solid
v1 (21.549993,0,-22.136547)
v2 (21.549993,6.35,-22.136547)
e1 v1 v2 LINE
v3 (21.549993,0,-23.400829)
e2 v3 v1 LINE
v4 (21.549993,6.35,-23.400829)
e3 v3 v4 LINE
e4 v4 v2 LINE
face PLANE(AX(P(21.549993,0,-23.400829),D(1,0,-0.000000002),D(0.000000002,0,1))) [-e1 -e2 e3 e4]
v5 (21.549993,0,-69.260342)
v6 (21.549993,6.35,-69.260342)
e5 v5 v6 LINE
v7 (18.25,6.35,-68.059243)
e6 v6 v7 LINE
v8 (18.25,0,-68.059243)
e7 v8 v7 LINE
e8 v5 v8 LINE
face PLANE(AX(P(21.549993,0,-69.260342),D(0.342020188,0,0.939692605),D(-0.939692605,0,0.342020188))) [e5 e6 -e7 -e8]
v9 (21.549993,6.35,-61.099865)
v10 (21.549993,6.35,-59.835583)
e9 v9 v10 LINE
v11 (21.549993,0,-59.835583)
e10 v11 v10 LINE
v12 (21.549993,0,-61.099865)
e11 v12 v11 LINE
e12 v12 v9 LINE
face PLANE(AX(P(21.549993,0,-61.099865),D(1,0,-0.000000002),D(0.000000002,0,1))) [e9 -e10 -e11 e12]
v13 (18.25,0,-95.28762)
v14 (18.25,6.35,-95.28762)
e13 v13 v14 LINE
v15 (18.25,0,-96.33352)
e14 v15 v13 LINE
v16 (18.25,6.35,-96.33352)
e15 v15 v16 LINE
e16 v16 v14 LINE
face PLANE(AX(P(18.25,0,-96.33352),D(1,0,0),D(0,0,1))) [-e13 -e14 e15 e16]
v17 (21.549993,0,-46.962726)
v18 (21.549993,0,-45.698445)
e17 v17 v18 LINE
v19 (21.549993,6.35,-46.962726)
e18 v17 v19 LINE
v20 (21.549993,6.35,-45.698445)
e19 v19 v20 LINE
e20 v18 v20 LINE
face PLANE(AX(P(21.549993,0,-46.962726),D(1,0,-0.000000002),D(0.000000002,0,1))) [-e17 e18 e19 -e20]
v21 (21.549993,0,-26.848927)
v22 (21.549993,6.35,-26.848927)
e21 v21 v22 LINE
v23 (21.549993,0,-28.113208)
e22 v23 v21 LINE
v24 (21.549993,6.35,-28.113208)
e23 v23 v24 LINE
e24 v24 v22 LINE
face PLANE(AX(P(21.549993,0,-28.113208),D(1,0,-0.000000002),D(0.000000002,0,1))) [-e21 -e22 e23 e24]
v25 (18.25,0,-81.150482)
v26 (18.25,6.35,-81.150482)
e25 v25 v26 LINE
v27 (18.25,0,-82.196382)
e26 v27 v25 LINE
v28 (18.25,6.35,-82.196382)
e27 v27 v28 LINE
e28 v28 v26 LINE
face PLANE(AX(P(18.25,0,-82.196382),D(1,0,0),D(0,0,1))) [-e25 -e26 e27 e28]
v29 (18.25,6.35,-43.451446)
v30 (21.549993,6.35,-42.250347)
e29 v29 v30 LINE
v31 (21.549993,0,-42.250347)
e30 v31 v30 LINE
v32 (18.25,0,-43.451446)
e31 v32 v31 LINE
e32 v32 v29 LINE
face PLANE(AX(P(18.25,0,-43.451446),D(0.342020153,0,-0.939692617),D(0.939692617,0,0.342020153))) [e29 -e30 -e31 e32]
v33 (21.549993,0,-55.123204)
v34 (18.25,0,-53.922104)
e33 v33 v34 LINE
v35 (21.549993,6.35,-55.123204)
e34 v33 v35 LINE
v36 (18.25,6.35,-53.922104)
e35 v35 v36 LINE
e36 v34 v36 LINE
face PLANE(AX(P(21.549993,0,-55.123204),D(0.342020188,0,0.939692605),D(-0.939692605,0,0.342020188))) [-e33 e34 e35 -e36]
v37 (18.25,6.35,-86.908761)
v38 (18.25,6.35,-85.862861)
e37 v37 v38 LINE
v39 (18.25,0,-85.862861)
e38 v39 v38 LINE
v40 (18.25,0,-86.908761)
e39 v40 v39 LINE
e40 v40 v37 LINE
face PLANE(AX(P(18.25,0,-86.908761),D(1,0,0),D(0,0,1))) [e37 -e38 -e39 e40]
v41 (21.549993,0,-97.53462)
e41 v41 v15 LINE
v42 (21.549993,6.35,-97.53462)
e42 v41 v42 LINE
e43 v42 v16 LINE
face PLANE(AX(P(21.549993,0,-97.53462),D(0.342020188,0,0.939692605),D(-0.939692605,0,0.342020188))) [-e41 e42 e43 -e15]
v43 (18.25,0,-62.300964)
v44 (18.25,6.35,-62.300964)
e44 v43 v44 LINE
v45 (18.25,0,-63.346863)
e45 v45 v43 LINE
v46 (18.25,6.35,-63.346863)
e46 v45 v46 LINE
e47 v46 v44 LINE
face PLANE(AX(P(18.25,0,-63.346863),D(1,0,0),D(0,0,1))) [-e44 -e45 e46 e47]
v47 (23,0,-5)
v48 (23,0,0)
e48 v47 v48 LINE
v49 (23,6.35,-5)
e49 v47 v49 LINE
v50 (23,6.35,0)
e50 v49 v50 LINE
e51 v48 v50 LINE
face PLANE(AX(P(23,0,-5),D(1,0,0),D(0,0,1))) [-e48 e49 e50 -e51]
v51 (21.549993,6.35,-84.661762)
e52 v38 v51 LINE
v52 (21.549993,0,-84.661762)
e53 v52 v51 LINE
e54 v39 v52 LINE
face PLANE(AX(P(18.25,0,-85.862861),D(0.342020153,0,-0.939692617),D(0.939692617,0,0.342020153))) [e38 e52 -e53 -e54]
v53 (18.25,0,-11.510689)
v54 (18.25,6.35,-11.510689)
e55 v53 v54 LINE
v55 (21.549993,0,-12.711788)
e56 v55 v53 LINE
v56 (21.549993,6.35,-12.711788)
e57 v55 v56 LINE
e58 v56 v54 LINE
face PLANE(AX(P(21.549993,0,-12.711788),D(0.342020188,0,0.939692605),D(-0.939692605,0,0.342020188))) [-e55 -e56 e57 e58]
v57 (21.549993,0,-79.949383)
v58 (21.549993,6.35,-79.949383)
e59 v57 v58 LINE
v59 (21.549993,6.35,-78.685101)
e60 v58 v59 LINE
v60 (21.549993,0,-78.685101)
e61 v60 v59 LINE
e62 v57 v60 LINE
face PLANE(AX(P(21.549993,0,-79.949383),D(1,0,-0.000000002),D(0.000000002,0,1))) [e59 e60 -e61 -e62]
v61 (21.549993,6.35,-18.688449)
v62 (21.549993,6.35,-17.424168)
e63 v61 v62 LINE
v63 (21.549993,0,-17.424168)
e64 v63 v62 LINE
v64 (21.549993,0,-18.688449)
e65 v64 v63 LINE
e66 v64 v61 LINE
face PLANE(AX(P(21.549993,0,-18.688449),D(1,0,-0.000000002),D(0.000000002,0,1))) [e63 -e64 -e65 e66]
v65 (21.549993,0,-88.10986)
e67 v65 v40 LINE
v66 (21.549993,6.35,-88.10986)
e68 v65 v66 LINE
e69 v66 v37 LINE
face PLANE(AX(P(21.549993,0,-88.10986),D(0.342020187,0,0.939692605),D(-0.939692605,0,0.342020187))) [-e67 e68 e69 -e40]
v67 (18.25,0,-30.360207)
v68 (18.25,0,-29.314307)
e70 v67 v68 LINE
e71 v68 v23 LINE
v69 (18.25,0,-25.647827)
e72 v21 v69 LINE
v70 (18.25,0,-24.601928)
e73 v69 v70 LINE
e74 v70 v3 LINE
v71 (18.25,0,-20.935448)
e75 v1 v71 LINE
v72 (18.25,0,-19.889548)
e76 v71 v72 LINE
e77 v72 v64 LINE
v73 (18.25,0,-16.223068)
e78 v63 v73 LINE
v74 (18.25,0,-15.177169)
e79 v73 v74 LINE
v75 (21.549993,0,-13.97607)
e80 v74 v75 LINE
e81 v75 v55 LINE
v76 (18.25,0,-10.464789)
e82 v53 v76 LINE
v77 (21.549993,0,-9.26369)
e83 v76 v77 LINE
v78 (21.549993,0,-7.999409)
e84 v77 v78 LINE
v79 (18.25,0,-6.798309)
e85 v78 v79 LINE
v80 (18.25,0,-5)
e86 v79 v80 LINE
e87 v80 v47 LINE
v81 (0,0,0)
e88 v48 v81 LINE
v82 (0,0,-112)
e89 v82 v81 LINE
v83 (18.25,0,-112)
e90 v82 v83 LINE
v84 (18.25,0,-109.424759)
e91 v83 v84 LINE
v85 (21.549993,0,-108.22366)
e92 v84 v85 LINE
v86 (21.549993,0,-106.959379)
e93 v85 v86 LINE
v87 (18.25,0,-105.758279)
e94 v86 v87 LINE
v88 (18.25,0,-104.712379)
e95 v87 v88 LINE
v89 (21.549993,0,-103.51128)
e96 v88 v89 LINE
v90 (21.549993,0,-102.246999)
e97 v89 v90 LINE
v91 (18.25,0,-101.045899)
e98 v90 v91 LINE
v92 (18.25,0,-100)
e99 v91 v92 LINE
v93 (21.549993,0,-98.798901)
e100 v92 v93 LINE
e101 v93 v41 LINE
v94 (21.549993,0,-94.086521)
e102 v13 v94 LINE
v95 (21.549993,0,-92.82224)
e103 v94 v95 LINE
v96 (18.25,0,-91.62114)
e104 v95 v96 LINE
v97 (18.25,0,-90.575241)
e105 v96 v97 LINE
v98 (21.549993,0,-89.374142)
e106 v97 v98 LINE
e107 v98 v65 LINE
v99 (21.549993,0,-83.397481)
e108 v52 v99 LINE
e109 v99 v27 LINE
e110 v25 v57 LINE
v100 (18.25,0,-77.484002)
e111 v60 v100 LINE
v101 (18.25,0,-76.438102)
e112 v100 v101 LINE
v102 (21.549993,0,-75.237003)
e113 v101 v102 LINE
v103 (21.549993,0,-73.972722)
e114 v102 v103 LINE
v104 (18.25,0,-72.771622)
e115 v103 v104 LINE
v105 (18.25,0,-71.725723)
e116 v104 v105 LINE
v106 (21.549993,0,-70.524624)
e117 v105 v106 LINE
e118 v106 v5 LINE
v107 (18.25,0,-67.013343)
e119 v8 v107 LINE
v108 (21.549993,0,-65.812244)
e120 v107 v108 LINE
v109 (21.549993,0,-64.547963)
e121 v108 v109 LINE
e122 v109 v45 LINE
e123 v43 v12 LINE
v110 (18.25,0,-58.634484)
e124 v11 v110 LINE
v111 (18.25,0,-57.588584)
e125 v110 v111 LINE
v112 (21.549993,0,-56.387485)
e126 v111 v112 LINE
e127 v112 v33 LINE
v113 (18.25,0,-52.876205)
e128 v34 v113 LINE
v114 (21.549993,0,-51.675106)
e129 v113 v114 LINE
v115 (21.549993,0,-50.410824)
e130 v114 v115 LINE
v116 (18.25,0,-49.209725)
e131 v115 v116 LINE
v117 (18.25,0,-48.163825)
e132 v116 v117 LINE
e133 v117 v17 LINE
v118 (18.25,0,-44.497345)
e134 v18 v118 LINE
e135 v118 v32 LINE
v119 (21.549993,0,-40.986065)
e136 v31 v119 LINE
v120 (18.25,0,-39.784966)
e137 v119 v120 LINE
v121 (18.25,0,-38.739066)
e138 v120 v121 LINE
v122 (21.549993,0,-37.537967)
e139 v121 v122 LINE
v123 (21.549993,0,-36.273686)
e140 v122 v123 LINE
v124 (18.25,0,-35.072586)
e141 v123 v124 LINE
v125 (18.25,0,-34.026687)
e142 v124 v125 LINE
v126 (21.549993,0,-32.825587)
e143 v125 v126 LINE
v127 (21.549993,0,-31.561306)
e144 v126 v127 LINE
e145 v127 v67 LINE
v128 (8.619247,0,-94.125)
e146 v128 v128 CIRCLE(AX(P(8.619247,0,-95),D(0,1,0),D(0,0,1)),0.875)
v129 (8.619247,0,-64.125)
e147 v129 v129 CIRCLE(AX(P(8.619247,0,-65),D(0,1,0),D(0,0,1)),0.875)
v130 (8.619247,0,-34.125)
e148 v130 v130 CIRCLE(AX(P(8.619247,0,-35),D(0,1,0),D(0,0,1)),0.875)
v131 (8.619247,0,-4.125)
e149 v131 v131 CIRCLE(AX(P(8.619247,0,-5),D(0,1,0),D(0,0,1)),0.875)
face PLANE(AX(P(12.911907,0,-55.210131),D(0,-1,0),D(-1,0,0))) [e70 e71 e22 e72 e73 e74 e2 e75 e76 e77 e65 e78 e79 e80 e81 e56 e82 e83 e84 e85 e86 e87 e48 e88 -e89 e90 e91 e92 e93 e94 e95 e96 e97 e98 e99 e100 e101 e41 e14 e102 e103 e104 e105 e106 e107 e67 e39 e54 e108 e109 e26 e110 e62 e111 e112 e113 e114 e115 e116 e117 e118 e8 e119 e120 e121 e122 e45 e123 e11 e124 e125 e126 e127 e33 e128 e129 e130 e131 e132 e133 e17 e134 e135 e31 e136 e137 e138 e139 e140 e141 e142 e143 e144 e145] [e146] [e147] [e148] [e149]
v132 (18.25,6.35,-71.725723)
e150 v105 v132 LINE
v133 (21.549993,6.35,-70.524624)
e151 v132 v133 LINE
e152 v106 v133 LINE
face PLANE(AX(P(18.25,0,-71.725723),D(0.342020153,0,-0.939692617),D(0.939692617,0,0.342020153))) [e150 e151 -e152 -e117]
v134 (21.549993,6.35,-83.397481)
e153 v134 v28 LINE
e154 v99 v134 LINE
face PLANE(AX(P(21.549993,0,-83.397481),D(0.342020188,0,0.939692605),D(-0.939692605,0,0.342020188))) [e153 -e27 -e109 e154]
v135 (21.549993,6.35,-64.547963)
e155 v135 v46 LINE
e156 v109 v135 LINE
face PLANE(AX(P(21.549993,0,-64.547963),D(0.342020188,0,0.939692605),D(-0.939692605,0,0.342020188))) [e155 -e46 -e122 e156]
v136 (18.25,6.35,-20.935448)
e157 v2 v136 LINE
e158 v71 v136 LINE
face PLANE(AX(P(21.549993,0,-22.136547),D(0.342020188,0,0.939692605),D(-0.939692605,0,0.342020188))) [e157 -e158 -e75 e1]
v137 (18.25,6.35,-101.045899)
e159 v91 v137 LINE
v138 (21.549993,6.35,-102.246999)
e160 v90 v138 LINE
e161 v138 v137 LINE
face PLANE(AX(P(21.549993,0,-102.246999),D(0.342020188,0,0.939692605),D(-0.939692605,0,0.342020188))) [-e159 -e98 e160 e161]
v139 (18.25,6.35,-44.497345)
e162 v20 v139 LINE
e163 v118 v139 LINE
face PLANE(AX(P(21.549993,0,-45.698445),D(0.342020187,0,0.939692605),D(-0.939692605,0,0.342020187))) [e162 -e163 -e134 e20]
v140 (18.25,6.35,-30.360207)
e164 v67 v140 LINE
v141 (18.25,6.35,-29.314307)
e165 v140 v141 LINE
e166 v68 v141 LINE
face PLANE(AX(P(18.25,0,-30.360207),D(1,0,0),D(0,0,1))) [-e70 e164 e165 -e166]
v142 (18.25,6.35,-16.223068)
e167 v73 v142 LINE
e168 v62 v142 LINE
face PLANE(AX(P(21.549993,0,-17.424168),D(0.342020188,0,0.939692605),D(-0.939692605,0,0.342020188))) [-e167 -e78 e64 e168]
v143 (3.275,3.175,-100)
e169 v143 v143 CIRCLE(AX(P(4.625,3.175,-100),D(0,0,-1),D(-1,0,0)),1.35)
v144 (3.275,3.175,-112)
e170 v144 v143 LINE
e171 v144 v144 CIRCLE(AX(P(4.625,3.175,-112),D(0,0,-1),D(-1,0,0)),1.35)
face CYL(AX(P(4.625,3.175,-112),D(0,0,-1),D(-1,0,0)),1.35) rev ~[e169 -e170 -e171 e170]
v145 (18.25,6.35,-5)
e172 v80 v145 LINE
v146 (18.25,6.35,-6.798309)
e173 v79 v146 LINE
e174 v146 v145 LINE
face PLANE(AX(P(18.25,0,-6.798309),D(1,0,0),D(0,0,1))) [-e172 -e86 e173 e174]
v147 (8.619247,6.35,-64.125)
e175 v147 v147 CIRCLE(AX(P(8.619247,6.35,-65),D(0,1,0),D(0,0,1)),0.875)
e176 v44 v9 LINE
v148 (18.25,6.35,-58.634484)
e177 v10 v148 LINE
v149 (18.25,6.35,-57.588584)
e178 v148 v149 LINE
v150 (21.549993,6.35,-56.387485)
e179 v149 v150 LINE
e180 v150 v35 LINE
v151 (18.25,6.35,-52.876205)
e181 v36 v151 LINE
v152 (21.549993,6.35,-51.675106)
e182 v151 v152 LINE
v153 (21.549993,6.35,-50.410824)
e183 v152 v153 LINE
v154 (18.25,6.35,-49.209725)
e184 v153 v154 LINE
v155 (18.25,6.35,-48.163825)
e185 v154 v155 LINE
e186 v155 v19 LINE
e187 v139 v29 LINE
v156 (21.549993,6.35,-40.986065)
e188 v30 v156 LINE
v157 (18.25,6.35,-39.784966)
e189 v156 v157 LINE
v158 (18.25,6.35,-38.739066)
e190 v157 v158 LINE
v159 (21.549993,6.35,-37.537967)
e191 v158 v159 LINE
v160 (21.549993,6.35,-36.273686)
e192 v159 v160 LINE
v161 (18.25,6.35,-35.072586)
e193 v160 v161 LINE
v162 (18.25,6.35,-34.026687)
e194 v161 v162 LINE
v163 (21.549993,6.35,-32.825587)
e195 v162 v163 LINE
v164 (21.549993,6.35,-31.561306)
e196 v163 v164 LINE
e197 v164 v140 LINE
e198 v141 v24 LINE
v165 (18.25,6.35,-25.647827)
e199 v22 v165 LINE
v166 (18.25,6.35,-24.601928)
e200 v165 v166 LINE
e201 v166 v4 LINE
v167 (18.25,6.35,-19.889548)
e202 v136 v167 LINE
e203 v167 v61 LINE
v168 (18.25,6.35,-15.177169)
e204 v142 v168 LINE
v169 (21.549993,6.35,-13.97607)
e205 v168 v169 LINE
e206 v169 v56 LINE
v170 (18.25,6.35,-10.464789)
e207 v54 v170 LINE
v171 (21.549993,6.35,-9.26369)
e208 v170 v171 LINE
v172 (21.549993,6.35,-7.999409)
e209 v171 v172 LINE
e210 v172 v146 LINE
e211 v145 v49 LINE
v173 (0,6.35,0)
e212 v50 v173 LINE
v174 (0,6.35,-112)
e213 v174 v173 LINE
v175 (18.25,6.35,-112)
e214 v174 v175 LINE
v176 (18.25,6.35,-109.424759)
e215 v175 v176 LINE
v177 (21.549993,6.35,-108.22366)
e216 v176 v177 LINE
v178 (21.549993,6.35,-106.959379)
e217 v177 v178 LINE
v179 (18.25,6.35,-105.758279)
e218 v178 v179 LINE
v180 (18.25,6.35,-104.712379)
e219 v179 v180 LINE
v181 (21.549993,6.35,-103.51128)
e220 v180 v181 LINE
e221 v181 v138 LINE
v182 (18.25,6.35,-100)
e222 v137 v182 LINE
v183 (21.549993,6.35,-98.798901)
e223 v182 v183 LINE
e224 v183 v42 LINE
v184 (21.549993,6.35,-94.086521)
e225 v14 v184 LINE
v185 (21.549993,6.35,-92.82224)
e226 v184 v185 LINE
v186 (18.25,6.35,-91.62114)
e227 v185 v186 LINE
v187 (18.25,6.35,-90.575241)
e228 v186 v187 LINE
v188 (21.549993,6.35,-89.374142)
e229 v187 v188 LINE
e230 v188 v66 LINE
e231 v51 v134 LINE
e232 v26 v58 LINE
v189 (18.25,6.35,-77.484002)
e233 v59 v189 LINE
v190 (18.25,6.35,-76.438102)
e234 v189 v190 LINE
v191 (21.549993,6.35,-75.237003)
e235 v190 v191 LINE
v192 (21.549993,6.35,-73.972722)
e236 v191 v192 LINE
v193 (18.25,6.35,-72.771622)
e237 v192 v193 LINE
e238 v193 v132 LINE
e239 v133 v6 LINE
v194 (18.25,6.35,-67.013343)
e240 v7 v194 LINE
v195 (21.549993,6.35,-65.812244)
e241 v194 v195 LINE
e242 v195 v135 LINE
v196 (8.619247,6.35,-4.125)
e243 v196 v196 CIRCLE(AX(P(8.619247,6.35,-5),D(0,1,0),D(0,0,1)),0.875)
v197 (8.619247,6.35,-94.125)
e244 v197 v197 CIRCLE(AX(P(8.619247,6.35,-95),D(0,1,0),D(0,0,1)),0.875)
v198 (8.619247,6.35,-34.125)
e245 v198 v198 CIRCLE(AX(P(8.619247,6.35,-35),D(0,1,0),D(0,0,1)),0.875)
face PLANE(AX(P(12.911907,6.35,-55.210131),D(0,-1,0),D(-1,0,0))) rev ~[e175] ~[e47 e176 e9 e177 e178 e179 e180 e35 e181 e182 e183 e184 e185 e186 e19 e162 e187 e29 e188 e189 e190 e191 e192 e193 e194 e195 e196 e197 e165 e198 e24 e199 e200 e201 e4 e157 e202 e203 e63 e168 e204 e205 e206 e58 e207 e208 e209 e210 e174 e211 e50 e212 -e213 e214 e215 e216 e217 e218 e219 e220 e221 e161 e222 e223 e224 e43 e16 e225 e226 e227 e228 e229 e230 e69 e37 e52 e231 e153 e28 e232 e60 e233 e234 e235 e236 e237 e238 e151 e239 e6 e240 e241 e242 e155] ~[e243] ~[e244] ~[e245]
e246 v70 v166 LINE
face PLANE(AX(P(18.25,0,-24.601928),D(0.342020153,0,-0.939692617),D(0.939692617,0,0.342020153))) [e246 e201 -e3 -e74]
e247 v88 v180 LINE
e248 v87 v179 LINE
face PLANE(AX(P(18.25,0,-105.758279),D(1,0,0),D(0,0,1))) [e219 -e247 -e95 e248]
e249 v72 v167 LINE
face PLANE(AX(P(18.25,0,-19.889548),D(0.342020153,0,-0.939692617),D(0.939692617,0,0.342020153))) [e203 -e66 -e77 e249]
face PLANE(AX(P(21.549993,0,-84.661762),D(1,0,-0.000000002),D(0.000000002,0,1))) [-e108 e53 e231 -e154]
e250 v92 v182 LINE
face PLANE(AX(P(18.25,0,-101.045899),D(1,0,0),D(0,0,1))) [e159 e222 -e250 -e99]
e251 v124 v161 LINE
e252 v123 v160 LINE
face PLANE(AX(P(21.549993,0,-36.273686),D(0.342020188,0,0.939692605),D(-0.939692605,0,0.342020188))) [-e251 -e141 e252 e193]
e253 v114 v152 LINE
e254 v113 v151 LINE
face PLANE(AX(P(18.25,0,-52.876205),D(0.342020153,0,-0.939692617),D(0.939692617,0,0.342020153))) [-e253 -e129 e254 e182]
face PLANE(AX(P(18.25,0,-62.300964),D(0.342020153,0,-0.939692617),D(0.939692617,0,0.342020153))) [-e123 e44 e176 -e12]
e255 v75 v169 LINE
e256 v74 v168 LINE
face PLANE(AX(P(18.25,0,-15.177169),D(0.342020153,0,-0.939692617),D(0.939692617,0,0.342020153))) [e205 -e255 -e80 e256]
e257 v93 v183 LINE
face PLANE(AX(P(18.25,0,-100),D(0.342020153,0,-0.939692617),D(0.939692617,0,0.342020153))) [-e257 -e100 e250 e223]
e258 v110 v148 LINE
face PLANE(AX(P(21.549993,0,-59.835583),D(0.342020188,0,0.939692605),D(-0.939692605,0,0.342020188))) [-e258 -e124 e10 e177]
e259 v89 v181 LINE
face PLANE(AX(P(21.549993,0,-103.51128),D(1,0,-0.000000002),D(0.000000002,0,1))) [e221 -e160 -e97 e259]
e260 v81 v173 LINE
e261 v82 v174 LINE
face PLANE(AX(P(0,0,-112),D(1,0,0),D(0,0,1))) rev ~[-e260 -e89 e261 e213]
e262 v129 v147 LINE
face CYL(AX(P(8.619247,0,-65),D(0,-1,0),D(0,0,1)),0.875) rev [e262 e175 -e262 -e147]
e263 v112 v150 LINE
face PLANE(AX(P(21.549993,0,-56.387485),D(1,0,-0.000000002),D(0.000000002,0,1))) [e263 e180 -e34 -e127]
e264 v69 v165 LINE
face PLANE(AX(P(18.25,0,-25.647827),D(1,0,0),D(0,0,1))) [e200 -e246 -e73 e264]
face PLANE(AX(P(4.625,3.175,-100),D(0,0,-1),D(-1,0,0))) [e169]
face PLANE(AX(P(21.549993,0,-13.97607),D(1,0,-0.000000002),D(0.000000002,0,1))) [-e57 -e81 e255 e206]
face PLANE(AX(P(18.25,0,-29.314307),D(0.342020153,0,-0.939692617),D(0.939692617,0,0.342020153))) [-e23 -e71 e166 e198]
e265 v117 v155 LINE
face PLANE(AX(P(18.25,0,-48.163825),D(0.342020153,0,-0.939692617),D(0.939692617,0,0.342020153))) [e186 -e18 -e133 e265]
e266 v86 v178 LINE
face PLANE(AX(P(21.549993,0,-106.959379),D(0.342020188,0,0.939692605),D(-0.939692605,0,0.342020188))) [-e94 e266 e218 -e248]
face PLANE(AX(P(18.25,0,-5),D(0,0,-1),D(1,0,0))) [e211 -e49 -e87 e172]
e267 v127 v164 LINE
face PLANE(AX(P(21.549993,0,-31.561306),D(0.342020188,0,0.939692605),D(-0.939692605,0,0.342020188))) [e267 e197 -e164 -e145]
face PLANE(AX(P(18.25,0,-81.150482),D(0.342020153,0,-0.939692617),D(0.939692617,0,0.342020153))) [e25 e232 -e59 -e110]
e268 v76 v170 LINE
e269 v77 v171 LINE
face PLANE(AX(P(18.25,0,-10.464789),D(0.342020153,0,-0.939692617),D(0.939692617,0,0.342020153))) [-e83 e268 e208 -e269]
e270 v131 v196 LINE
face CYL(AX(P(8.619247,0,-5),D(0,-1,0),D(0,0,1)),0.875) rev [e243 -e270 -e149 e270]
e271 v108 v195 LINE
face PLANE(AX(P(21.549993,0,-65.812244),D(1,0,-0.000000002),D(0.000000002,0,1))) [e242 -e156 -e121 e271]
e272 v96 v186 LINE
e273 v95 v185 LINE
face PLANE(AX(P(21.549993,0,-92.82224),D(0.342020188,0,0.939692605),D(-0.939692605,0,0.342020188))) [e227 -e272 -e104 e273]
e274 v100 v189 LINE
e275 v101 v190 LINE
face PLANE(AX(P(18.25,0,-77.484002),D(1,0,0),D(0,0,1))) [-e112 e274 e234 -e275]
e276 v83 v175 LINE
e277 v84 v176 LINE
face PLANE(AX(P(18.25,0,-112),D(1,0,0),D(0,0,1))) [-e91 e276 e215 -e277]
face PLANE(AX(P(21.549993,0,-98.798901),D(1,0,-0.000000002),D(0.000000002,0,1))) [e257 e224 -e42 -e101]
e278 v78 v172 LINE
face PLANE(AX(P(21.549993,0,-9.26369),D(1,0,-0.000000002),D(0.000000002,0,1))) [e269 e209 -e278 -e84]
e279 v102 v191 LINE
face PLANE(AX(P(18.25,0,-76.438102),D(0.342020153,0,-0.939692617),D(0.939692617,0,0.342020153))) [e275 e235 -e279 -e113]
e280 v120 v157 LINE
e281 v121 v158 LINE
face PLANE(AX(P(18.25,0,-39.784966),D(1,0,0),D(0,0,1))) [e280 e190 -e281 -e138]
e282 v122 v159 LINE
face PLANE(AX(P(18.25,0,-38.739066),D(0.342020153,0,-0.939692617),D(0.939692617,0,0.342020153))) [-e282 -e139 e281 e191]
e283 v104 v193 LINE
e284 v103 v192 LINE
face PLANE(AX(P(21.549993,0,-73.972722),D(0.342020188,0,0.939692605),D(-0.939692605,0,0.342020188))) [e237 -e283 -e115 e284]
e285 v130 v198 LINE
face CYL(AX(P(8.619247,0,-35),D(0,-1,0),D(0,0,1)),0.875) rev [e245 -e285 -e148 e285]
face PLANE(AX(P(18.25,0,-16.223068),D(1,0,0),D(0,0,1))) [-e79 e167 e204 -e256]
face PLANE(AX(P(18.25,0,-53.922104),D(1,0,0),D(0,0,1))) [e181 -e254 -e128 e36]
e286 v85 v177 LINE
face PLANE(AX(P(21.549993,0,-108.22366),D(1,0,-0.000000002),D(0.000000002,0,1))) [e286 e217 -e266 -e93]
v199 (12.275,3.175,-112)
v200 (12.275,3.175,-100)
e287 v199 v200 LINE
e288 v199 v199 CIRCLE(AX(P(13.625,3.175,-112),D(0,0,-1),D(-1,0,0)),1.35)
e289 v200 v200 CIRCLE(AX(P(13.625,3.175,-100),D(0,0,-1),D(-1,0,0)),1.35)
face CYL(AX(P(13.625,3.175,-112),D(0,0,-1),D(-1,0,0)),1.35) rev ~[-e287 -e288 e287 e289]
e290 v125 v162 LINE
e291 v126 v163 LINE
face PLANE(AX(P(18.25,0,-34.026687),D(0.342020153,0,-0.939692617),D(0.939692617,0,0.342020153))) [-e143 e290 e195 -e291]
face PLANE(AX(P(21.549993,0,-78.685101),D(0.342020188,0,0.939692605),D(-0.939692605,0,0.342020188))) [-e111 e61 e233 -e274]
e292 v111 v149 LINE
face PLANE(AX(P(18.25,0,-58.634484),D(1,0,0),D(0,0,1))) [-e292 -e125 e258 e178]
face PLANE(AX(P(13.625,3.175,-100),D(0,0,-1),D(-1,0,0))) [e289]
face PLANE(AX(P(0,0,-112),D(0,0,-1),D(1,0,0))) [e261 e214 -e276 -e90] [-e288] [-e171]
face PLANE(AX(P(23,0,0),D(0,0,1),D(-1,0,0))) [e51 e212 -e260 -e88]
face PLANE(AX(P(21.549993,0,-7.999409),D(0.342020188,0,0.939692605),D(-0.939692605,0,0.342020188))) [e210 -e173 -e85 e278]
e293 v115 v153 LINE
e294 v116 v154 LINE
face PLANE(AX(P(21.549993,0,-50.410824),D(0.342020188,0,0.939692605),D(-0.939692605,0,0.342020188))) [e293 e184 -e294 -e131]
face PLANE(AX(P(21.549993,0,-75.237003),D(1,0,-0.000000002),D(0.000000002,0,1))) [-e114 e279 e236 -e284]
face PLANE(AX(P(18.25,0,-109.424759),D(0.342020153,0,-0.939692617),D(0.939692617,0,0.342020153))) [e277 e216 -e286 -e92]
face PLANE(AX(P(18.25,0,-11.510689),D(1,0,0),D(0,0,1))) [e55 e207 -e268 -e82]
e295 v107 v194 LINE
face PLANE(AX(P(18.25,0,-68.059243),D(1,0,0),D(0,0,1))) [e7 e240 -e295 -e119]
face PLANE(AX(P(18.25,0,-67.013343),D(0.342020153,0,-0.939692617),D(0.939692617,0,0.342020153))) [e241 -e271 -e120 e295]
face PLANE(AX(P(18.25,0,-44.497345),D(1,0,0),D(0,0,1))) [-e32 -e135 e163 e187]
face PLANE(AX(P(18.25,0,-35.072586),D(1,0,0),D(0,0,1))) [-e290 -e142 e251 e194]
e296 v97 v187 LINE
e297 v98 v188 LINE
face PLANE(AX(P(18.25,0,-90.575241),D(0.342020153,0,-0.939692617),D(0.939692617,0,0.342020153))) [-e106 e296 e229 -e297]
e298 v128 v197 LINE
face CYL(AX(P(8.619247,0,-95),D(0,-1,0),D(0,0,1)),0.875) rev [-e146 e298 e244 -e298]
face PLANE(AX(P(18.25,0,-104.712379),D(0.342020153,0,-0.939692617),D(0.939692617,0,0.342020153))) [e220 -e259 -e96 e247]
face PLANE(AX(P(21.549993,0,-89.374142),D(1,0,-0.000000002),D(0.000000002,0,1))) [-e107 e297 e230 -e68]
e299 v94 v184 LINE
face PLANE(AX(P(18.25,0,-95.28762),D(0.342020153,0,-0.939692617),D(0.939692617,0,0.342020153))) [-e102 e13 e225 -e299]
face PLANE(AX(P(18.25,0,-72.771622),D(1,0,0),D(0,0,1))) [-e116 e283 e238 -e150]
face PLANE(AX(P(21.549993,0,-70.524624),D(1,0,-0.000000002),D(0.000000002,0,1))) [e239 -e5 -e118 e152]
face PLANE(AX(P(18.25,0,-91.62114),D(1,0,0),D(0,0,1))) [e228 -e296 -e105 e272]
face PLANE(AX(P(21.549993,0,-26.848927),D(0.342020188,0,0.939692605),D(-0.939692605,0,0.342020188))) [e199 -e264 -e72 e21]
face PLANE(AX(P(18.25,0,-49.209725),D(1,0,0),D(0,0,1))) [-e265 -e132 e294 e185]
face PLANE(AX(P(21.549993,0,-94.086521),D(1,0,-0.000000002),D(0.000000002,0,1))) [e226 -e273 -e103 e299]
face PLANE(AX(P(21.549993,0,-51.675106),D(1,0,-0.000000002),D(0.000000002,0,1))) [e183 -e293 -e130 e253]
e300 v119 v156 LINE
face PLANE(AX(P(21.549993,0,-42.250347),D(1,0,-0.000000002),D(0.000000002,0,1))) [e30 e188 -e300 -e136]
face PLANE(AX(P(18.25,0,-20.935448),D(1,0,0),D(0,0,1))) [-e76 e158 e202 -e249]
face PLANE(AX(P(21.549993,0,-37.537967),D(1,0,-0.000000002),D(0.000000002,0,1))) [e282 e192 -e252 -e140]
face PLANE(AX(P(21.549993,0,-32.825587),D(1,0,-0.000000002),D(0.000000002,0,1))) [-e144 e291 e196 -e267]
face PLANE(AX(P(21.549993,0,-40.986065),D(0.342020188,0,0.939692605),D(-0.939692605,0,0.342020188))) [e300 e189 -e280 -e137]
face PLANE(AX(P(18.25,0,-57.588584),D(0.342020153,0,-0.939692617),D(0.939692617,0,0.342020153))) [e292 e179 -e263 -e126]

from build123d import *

# Parameters (mm, degrees)
SKETCH1_R           = 0.875
BOSS_EXTRUDE1_DEPTH = 6.35
SKETCH2_R           = 1.35
CUT_EXTRUDE1_DEPTH  = 12


with BuildPart() as part:
    # Sketch1 → Boss-Extrude1 (new body)
    with BuildSketch(Plane(origin=(0, 0, 0), x_dir=(1, 0, 0), z_dir=(0, 1, 0))):
        Polygon((0, 0), (0, 100), (0, 112), (18.25, 112), (18.25, 109.424759036), (21.549993184, 108.223659704), (21.549993186, 106.959378538), (18.25, 105.758279069), (18.25, 104.712379468), (21.549993194, 103.511280133), (21.549993196, 102.246998966), (18.25, 101.045899493), (18.25, 100), (21.549993184, 98.798900669), (21.549993186, 97.534619502), (18.25, 96.333520033), (18.25, 95.287620432), (21.549993194, 94.086521097), (21.549993196, 92.822239931), (18.25, 91.621140458), (18.25, 90.575240964), (21.549993204, 89.374141626), (21.549993207, 88.109860459), (18.25, 86.908760983), (18.25, 85.862861496), (21.549993214, 84.661762154), (21.549993217, 83.397480988), (18.25, 82.196381507), (18.25, 81.150481929), (21.549993224, 79.949382583), (21.549993227, 78.685101416), (18.25, 77.484001932), (18.25, 76.438102461), (21.549993234, 75.237003111), (21.549993237, 73.972721945), (18.25, 72.771622457), (18.25, 71.725722993), (21.549993244, 70.524623639), (21.549993247, 69.260342473), (18.25, 68.059242982), (18.25, 67.013343425), (21.549993254, 65.812244068), (21.549993257, 64.547962902), (18.25, 63.346863406), (18.25, 62.300963957), (21.549993265, 61.099864596), (21.549993267, 59.83558343), (18.25, 58.634483931), (18.25, 57.588584489), (21.549993275, 56.387485125), (21.549993277, 55.123203959), (18.25, 53.922104456), (18.25, 52.876204922), (21.549993285, 51.675105553), (21.549993288, 50.410824387), (18.25, 49.209724881), (18.25, 48.163825454), (21.549993295, 46.962726082), (21.549993298, 45.698444915), (18.25, 44.497345406), (18.25, 43.451445986), (21.549993305, 42.25034661), (21.549993308, 40.986065444), (18.25, 39.78496593), (18.25, 38.739066418), (21.549993315, 37.537967039), (21.549993318, 36.273685872), (18.25, 35.072586355), (18.25, 34.026686847), (21.549993325, 32.825587464), (21.549993328, 31.561306401), (18.25, 30.36020688), (18.25, 29.314307482), (21.549993336, 28.113208096), (21.549993338, 26.848926929), (18.25, 25.647827405), (18.25, 24.601927915), (21.549993346, 23.400828524), (21.549993348, 22.136547358), (18.25, 20.935447829), (18.25, 19.889548447), (21.549993356, 18.688449053), (21.549993359, 17.424167886), (18.25, 16.223068354), (18.25, 15.177168979), (21.549993366, 13.976069581), (21.549993369, 12.711788415), (18.25, 11.510688879), (18.25, 10.464789411), (21.549993376, 9.26369001), (21.549993379, 7.999408843), (18.25, 6.798309304), (18.25, 5), (23, 5), (23, 0), align=None)
        with Locations(Location((8.619246516, 95, 0), (0, 0, 270))):
            Circle(SKETCH1_R, mode=Mode.SUBTRACT)
        with Locations(Location((8.619246516, 65, 0), (0, 0, 270))):
            Circle(SKETCH1_R, mode=Mode.SUBTRACT)
        with Locations(Location((8.619246516, 35, 0), (0, 0, 270))):
            Circle(SKETCH1_R, mode=Mode.SUBTRACT)
        with Locations(Location((8.619246516, 5, 0), (0, 0, 270))):
            Circle(SKETCH1_R, mode=Mode.SUBTRACT)
    extrude(amount=BOSS_EXTRUDE1_DEPTH)

    # Sketch2 → Cut-Extrude1 (cut)
    with BuildSketch(Plane(origin=(0, 0, -112), x_dir=(-1, 0, 0), z_dir=(0, 0, -1))):
        with Locations((-13.625, 3.175)):
            Circle(SKETCH2_R)
        with Locations((-4.625, 3.175)):
            Circle(SKETCH2_R)
    extrude(amount=-CUT_EXTRUDE1_DEPTH, mode=Mode.SUBTRACT)


solid = part.part
